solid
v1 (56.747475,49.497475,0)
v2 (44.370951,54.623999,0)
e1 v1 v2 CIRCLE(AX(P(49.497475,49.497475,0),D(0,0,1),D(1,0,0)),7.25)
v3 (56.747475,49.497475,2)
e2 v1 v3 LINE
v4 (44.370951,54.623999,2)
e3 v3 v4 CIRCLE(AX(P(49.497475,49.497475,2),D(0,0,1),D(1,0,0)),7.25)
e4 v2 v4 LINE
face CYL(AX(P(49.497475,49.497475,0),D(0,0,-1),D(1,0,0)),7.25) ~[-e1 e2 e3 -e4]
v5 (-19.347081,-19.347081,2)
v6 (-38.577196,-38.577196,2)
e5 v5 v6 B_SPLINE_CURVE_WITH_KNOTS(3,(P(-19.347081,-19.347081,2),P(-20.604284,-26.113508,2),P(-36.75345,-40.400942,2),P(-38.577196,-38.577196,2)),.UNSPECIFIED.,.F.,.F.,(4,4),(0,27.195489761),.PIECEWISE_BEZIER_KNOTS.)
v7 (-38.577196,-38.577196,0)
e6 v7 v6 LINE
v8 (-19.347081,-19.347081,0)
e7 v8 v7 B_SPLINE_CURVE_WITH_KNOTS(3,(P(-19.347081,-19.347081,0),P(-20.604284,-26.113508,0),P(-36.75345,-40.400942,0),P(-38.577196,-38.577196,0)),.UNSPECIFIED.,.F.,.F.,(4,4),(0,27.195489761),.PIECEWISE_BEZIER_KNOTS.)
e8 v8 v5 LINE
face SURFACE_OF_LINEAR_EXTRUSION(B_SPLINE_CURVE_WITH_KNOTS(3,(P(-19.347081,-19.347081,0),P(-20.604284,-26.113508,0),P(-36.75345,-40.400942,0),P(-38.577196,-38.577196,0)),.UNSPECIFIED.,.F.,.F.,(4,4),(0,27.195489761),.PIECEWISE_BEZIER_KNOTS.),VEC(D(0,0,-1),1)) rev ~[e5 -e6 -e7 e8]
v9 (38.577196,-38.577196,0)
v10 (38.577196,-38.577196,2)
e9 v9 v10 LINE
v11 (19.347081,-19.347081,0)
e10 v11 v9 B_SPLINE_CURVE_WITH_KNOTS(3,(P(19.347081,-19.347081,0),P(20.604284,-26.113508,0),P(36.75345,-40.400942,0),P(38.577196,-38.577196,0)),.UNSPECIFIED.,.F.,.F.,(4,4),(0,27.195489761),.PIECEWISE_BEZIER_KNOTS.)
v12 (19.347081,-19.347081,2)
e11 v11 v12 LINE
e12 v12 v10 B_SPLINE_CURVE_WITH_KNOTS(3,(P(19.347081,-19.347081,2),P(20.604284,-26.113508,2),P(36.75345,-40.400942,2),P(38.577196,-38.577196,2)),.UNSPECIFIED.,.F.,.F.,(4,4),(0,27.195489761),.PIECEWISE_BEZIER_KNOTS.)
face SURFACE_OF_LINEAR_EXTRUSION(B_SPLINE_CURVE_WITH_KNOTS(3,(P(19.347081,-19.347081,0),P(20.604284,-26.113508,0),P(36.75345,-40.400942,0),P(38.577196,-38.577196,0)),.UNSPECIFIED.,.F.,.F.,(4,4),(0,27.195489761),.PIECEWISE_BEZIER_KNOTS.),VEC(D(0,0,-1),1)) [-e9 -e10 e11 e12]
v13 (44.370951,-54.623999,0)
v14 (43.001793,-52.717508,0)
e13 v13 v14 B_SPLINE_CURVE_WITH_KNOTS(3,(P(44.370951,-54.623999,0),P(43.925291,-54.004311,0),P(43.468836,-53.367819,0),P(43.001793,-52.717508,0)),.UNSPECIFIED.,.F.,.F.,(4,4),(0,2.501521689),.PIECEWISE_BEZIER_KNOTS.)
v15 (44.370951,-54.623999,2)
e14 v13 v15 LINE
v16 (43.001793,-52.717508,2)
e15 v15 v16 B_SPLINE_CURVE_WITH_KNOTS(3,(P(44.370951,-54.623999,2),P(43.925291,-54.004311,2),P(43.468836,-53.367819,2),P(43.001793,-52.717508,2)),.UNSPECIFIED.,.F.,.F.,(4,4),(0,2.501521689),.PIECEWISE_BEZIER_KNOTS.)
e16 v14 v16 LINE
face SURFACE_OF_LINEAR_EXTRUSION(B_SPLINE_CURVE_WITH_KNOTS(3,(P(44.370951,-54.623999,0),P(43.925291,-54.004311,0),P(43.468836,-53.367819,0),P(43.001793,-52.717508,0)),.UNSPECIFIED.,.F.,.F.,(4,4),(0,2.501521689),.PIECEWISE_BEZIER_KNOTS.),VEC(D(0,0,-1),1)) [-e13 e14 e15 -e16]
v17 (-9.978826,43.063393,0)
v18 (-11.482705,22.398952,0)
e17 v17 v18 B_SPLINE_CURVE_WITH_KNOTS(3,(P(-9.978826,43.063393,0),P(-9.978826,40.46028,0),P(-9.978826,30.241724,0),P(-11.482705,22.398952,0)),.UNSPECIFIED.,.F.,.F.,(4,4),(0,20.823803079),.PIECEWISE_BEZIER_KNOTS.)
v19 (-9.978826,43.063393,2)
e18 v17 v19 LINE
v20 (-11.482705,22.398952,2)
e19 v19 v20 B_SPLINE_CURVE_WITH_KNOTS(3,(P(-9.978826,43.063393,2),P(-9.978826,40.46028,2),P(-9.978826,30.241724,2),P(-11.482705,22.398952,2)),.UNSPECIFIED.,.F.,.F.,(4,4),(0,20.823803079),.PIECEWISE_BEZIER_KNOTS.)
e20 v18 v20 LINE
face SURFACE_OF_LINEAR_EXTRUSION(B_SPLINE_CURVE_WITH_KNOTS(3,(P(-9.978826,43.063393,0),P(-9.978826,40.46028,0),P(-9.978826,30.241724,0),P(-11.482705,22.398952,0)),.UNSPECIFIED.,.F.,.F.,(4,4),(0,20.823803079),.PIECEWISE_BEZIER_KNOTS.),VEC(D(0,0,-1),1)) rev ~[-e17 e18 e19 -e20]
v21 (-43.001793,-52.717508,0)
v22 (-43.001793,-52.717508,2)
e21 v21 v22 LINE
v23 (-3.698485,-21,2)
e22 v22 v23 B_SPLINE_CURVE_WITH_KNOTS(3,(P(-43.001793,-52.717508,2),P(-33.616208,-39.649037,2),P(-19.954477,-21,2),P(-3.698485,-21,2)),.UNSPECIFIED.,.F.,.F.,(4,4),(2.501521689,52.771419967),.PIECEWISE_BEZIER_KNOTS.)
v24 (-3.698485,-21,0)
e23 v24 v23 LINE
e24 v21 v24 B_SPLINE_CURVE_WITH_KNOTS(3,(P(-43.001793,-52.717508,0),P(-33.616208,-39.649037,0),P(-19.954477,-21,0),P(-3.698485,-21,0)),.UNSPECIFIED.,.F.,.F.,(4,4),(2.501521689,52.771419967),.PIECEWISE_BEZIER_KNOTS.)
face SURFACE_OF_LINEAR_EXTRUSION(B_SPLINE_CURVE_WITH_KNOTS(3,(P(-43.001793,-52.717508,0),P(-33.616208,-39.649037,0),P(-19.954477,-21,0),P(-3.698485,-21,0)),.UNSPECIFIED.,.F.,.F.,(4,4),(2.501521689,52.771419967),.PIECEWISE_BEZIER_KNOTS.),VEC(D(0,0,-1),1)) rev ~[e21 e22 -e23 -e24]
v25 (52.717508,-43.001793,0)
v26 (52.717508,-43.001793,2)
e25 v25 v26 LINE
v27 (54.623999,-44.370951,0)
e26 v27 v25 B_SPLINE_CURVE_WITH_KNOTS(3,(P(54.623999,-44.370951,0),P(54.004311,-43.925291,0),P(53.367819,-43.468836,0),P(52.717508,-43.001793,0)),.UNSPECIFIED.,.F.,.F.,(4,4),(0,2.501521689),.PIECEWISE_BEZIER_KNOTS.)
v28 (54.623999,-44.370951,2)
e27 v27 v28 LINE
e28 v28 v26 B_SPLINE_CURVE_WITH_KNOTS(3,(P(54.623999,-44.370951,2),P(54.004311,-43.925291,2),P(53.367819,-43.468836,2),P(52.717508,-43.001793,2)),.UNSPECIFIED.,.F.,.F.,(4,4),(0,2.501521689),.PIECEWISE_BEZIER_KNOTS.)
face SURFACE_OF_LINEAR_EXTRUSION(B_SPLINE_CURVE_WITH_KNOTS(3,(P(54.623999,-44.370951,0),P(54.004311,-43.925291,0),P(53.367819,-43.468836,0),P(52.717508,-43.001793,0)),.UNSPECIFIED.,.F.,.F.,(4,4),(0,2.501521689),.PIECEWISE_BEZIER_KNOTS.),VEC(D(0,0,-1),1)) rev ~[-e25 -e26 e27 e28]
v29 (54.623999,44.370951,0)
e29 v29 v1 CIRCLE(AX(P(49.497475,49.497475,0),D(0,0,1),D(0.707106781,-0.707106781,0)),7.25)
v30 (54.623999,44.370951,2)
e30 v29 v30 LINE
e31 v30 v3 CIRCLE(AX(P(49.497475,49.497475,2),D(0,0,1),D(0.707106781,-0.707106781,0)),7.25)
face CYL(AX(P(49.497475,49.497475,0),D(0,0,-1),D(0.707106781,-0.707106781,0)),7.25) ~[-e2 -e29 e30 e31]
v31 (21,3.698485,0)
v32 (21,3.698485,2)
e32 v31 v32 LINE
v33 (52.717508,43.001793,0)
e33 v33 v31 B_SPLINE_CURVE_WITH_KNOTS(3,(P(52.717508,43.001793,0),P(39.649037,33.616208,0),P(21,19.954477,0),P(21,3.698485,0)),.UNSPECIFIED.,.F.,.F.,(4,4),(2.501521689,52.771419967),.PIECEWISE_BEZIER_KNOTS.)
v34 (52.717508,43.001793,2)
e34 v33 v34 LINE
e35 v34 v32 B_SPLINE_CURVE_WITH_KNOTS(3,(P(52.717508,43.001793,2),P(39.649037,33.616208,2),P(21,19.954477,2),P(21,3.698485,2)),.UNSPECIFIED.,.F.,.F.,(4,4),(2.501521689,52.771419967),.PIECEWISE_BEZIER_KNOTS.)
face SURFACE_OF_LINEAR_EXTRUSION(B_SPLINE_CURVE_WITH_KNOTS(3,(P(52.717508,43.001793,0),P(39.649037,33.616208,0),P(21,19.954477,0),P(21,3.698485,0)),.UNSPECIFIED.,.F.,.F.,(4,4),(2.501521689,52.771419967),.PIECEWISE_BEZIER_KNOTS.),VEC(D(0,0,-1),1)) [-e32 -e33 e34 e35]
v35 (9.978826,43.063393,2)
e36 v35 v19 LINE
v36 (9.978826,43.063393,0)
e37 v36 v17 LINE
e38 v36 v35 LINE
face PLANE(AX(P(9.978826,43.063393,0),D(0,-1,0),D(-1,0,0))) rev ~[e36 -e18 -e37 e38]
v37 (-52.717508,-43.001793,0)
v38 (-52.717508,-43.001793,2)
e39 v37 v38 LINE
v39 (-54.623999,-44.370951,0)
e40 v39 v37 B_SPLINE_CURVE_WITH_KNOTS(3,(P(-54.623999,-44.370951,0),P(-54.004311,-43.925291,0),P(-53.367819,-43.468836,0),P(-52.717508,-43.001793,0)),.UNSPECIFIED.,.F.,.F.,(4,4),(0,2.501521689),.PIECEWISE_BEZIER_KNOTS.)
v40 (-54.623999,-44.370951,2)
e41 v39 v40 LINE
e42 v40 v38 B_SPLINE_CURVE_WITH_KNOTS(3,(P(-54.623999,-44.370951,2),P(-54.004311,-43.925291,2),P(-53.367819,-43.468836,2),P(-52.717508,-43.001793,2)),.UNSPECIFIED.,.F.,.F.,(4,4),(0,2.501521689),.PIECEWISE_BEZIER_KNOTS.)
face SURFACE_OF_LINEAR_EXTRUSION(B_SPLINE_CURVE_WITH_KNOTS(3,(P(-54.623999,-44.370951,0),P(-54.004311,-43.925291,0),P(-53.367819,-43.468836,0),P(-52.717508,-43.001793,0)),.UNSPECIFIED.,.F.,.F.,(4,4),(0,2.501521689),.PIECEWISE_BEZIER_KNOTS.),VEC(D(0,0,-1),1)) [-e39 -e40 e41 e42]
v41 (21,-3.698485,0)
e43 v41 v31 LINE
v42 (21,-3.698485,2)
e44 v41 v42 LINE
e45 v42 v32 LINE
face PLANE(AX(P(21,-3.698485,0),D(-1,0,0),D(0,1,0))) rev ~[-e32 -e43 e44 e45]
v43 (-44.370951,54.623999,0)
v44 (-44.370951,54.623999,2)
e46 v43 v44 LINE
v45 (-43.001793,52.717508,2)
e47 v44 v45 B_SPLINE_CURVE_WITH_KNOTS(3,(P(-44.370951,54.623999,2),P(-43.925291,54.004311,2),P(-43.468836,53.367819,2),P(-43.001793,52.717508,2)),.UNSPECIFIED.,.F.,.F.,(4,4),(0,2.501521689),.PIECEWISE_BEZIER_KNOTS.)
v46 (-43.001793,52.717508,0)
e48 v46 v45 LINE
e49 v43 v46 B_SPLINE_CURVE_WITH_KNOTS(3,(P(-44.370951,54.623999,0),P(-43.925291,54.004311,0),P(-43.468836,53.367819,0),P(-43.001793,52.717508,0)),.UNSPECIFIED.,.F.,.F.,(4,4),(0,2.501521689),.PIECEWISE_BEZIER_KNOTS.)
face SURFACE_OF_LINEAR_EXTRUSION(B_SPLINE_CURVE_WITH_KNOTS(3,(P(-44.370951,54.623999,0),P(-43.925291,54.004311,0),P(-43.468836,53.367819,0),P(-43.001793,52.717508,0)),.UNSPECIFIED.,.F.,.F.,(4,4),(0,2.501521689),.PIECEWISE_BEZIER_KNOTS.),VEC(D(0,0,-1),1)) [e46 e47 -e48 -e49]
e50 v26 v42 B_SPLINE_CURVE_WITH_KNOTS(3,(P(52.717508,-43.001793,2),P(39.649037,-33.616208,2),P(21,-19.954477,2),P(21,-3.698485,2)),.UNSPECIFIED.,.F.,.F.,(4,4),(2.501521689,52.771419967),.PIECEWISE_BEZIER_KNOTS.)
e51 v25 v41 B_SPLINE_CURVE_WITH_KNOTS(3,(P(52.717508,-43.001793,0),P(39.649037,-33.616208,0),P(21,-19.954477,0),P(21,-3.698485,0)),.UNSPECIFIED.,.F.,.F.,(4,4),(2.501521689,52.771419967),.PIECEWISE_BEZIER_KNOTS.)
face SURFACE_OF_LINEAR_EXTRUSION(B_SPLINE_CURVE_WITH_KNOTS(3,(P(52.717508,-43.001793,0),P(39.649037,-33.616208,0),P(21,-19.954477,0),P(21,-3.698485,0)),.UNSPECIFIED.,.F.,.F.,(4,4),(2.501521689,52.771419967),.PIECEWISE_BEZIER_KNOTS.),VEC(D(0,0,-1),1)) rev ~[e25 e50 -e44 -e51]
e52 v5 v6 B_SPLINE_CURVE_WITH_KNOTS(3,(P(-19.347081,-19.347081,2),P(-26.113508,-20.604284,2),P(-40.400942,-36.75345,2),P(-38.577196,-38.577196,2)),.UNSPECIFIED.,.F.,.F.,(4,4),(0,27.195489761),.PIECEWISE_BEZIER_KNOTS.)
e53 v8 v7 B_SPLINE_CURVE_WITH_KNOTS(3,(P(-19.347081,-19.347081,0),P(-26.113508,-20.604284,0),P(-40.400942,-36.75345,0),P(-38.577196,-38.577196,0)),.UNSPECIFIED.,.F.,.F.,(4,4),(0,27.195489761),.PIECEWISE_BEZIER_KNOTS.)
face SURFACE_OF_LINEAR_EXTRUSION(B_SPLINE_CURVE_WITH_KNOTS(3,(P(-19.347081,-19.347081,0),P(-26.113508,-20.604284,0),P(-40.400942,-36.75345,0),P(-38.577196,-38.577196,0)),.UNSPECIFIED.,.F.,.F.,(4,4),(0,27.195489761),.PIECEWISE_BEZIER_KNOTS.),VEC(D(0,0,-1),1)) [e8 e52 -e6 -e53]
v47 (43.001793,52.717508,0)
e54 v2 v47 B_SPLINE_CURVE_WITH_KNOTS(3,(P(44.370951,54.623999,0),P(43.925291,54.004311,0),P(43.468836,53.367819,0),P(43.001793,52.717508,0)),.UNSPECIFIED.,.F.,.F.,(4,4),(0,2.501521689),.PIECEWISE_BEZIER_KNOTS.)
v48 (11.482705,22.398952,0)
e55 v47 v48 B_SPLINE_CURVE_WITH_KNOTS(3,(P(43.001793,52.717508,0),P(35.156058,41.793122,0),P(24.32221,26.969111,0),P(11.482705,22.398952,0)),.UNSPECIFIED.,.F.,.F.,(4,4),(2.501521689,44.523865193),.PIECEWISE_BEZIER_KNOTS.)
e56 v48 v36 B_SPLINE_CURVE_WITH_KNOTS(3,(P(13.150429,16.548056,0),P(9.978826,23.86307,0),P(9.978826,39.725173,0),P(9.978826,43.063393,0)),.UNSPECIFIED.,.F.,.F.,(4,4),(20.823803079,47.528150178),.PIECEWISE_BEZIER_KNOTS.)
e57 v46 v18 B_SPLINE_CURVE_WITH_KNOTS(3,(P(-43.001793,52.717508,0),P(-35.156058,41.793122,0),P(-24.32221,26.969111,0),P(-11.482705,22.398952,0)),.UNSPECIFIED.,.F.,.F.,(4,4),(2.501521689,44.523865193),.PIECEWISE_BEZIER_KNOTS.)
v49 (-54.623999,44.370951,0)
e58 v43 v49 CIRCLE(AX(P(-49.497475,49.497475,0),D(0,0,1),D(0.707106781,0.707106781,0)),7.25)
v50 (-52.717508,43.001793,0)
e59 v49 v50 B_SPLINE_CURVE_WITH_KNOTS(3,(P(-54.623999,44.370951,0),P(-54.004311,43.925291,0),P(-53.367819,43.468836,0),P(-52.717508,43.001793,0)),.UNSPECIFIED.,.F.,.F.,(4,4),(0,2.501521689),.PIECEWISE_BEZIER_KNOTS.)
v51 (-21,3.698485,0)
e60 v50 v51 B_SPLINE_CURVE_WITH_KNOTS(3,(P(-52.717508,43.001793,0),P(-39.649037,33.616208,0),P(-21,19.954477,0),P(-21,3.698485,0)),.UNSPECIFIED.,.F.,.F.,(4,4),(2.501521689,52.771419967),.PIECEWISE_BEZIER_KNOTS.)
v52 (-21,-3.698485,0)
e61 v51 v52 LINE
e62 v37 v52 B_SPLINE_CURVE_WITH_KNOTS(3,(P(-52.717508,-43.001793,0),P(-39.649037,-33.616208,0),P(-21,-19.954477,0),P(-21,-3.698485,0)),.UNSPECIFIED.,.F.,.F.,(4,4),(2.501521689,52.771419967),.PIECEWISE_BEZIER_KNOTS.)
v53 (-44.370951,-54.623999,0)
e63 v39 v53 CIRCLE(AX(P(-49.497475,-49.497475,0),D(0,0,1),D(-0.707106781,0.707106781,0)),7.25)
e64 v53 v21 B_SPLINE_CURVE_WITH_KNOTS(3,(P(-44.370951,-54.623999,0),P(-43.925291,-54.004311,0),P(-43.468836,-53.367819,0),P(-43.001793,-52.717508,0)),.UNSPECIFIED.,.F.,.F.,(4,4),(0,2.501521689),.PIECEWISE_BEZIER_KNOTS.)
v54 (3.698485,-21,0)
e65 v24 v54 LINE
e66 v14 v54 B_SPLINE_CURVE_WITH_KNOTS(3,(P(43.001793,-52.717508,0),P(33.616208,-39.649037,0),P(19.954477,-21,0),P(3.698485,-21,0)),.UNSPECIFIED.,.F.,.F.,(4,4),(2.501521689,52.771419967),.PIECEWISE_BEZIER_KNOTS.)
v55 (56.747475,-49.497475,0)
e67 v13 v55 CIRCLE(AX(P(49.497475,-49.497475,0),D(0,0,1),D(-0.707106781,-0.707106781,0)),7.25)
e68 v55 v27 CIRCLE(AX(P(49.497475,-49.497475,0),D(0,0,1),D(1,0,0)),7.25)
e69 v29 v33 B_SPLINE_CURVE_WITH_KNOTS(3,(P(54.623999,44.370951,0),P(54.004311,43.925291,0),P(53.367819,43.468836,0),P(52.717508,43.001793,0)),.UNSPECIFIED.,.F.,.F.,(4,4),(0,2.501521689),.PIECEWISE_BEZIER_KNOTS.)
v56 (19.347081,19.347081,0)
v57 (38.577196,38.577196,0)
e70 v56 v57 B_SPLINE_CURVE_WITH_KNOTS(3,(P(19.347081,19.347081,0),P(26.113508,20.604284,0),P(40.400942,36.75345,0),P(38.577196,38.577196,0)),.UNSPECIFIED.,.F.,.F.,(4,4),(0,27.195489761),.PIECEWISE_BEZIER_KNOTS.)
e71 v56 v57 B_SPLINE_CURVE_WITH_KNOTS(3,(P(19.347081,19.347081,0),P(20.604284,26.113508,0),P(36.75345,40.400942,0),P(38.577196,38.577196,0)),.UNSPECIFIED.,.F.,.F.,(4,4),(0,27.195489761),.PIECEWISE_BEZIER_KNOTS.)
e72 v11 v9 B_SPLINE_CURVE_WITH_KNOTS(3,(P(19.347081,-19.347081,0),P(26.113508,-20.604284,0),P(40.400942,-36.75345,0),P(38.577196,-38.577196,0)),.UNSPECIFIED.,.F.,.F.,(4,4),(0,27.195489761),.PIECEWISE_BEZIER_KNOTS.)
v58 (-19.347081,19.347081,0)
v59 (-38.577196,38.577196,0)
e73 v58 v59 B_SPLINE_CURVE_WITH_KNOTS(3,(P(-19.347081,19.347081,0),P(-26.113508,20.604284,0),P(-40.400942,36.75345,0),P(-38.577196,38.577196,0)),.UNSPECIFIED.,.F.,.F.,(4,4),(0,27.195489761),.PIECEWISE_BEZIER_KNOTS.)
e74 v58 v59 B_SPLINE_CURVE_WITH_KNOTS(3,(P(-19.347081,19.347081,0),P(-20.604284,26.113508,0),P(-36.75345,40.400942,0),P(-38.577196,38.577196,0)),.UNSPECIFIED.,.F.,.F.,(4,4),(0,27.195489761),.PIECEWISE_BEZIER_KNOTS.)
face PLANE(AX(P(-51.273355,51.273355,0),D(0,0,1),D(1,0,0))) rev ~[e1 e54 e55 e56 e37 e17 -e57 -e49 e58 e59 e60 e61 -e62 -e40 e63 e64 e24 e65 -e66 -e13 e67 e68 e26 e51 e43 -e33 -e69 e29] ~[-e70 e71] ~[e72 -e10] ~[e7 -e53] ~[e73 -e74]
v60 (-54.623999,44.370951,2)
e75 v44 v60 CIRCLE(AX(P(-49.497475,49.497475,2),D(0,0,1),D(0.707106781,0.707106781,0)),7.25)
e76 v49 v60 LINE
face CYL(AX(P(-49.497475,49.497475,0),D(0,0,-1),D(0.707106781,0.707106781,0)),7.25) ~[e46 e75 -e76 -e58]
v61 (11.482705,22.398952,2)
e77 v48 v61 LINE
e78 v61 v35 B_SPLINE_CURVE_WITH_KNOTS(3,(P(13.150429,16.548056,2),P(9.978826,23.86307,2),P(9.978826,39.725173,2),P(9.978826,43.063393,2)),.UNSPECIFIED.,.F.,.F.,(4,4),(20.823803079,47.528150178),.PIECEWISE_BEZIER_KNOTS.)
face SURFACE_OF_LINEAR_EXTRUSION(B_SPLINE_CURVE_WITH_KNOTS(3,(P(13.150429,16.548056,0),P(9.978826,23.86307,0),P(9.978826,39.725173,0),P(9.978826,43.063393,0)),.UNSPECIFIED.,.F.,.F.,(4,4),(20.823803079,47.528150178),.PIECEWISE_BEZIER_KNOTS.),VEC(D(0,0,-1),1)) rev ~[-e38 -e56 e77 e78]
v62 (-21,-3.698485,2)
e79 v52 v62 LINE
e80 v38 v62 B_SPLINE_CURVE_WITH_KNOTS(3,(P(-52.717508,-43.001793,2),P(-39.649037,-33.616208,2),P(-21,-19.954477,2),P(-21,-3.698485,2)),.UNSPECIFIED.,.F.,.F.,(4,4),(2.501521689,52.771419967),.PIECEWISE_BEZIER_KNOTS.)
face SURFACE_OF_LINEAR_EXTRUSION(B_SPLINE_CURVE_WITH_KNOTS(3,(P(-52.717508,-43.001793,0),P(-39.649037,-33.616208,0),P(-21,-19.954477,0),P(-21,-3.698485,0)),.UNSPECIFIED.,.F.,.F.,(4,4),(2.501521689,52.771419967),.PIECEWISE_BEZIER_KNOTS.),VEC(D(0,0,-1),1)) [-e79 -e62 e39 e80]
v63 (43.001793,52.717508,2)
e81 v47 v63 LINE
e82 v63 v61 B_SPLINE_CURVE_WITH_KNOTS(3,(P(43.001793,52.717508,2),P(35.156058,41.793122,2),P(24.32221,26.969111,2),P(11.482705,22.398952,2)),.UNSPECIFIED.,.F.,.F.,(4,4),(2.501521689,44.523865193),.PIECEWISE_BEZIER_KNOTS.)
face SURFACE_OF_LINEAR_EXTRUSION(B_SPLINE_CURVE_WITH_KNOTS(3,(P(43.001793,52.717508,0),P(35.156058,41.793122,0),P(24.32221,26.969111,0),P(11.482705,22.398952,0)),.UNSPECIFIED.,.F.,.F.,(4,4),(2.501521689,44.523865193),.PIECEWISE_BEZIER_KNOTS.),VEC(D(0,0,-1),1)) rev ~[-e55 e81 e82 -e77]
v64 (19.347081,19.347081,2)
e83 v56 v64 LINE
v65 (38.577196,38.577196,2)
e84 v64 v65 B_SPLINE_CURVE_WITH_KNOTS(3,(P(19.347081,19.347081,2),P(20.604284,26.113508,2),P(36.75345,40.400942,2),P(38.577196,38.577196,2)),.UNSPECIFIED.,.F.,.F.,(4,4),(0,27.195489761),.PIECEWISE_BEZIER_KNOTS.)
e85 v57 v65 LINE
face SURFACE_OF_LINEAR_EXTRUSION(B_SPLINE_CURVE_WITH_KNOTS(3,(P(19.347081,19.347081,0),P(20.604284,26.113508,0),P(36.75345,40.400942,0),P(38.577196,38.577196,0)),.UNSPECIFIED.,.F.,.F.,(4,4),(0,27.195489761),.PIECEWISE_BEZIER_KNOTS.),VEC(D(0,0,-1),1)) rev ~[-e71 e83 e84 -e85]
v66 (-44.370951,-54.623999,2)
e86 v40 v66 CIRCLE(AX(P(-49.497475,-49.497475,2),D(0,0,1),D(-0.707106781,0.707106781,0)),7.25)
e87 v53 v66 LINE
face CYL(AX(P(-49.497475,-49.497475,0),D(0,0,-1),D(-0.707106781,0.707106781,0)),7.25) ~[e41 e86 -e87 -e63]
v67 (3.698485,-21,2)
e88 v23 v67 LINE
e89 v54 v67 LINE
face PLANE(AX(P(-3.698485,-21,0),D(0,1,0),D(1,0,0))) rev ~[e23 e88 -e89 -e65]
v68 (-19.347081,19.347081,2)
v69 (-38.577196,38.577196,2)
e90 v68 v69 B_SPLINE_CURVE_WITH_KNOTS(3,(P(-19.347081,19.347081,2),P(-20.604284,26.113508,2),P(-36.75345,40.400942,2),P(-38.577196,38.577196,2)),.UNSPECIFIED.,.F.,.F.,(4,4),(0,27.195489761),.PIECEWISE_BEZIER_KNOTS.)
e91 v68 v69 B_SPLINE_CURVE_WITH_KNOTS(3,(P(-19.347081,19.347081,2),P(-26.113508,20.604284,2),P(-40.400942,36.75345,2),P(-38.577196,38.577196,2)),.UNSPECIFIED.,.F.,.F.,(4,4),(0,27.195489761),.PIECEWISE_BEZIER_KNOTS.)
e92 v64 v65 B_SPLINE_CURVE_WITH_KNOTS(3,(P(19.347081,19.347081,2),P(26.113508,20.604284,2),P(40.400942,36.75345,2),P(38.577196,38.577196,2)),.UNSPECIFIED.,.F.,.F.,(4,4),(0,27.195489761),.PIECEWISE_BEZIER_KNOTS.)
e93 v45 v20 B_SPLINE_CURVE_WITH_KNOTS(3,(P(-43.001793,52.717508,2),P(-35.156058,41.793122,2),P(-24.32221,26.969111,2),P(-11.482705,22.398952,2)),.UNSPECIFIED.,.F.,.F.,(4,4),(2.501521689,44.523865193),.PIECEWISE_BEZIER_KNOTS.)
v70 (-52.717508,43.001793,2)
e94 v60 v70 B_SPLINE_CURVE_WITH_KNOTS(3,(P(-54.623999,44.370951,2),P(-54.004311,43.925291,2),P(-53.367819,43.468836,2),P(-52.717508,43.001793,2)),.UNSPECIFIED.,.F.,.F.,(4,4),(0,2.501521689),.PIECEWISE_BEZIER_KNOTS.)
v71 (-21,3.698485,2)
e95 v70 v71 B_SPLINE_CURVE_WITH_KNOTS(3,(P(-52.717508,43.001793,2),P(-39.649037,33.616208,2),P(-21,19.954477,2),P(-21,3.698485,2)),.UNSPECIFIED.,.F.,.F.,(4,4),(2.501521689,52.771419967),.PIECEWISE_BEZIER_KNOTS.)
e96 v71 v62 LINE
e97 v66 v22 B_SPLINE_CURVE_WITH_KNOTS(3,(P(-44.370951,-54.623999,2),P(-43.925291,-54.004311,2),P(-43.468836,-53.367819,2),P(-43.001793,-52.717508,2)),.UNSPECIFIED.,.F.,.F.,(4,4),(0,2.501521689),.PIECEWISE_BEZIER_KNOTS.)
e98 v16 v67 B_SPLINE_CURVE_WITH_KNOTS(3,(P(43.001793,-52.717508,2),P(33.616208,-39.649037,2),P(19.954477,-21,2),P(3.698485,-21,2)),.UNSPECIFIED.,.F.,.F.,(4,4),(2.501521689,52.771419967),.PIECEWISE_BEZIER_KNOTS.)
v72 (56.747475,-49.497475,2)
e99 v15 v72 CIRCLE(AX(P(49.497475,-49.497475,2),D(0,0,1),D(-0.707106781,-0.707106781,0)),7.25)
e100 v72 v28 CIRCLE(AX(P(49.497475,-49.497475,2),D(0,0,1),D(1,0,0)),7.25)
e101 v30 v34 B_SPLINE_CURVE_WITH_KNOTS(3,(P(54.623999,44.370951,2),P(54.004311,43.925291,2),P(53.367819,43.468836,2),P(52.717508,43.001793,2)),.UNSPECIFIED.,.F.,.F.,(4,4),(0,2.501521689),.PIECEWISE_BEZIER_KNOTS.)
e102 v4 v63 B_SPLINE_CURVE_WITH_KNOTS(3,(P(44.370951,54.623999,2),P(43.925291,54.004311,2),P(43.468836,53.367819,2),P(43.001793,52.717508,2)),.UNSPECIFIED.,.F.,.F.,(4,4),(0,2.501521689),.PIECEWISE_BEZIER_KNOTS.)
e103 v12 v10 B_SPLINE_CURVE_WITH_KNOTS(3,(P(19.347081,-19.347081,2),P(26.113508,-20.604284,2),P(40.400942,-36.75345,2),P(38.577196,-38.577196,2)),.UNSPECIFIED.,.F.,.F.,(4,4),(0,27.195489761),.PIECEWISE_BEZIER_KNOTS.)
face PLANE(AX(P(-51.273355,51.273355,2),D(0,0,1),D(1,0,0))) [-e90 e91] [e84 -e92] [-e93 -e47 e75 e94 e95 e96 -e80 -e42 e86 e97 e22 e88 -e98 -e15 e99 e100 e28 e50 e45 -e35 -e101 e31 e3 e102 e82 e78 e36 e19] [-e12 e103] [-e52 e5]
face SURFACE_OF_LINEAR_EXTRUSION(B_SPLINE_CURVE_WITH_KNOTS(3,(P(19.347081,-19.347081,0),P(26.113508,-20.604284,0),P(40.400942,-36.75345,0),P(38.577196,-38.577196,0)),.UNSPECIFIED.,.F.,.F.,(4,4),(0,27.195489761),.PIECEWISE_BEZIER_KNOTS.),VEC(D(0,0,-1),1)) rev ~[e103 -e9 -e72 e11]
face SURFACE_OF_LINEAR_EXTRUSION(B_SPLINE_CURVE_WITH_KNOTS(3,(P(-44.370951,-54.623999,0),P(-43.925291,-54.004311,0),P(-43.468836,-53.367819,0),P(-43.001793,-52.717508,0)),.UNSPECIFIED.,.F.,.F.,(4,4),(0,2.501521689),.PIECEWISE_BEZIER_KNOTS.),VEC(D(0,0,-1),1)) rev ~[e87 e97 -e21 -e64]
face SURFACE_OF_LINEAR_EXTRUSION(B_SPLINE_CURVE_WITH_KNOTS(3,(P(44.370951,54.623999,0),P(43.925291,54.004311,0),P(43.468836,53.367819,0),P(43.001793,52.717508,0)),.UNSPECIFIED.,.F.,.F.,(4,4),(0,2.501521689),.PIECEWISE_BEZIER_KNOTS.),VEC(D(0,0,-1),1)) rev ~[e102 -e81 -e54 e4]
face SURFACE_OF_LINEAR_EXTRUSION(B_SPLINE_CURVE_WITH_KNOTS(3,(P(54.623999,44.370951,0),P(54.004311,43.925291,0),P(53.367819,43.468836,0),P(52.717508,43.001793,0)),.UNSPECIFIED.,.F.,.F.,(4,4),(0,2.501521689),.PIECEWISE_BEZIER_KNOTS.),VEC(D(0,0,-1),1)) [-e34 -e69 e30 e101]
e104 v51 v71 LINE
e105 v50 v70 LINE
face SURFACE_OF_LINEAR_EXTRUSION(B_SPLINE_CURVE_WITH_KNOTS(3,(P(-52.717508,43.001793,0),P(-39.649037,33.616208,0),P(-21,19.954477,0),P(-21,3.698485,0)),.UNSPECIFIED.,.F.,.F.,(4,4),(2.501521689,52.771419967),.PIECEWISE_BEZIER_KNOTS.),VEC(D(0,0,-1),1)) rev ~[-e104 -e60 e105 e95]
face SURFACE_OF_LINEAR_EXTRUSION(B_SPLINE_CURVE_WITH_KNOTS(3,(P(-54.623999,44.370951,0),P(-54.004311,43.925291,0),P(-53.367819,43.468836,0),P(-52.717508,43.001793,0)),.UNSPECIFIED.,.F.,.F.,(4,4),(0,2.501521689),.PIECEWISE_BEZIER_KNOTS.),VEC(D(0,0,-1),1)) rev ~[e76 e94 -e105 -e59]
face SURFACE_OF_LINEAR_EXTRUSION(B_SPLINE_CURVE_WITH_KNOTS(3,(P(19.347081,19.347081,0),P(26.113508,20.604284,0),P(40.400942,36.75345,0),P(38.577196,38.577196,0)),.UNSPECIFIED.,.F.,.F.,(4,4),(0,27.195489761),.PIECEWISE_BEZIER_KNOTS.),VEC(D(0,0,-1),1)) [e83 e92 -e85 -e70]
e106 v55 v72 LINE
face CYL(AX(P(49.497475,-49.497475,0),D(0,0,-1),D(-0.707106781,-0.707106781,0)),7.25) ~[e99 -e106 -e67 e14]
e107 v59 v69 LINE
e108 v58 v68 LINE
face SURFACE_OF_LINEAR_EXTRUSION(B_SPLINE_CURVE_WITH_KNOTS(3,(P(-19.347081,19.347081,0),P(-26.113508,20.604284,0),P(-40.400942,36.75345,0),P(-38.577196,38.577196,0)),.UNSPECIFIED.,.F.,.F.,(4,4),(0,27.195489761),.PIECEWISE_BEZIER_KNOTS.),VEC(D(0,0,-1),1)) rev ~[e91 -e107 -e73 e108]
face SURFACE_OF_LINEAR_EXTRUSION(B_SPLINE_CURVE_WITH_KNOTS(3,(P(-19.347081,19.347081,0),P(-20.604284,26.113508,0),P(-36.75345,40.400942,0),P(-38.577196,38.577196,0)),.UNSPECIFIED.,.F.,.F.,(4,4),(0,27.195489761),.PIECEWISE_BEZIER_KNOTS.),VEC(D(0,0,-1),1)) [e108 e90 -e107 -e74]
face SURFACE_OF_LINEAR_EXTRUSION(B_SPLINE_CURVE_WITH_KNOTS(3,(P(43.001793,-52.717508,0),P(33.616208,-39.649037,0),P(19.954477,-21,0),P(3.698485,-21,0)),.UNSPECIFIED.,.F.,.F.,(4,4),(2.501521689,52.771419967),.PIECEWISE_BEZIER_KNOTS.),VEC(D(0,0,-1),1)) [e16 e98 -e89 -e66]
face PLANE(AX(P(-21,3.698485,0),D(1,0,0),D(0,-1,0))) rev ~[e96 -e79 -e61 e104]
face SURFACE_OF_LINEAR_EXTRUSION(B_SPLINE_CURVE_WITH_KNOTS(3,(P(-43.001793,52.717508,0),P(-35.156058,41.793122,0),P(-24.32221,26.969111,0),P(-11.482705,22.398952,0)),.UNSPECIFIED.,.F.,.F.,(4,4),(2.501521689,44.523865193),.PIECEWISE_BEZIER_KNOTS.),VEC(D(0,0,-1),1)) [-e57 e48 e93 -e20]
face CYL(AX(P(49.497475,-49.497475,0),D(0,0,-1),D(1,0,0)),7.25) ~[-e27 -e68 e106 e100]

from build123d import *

# Parameters (mm, degrees)
F1_DEPTH = 2


with BuildPart() as f1:
    # F0 (on Top) → F1 (new body)
    with BuildSketch(Plane.XY):
        with BuildLine():
            Line((-54.6239988467, 44.3709505195), (-44.3709505195, 54.6239988467))
            ThreePointArc((-44.3709505195, 54.6239988467), (-54.6239988467, 54.6239988467), (-54.6239988467, 44.3709505195))
        make_face()
        with BuildLine():
            add(Edge.make_bspline(
                [(-44.3709505195, 54.6239988467), (-43.9252914894, 54.0043111509), (-43.4688364543, 53.3678190196), (-43.0017926599, 52.7175080764)],
                knots=[0, 0, 0, 0, 2.5015216892, 2.5015216892, 2.5015216892, 2.5015216892], degree=3))
            Line((-44.3709505195, 54.6239988467), (-54.6239988467, 44.3709505195))
            add(Edge.make_bspline(
                [(-54.6239988467, 44.3709505195), (-54.0043111509, 43.9252914894), (-53.3678190196, 43.4688364543), (-52.7175080764, 43.0017926599)],
                knots=[0, 0, 0, 0, 2.5015216892, 2.5015216892, 2.5015216892, 2.5015216892], degree=3))
            ThreePointArc((-52.7175080764, 43.0017926599), (-45.6753510653, 43.3368033681), (-42.2474746831, 49.4974746831))
            ThreePointArc((-42.2474746831, 49.4974746831), (-42.438572691, 51.1510776179), (-43.0017926599, 52.7175080764))
        make_face()
        with BuildLine():
            add(Edge.make_bspline(
                [(-43.0017926599, 52.7175080764), (-35.156058263, 41.793121548), (-24.322210487, 26.9691113568), (-11.4827054753, 22.3989517485)],
                knots=[2.5015216892, 2.5015216892, 2.5015216892, 2.5015216892, 44.5238651926, 44.5238651926, 44.5238651926, 44.5238651926], degree=3))
            ThreePointArc((-43.0017926599, 52.7175080764), (-42.438572691, 51.1510776179), (-42.2474746831, 49.4974746831))
            ThreePointArc((-42.2474746831, 49.4974746831), (-45.6753510653, 43.3368033681), (-52.7175080764, 43.0017926599))
            add(Edge.make_bspline(
                [(-52.7175080764, 43.0017926599), (-39.6490365505, 33.6162078218), (-21, 19.9544767567), (-21, 3.6984848098)],
                knots=[2.5015216892, 2.5015216892, 2.5015216892, 2.5015216892, 52.7714199671, 52.7714199671, 52.7714199671, 52.7714199671], degree=3))
            Line((-21, 3.6984848098), (-21, 8.6984848098))
            Line((-21, 8.6984848098), (-13.1504285381, 16.5480562717))
            add(Edge.make_bspline(
                [(-11.4827054763, 22.3989517466), (-11.9073939206, 20.1841898293), (-12.4520123835, 18.1588898334), (-13.1504285381, 16.5480562717)],
                knots=[20.823803079, 20.823803079, 20.823803079, 20.823803079, 26.7043470991, 26.7043470991, 26.7043470991, 26.7043470991], degree=3))
        make_face()
        with BuildLine():
            add(Edge.make_bspline(
                [(-19.3470806403, 19.3470806403), (-20.6042841596, 26.1135079486), (-36.7534501997, 40.4009415356), (-38.5771958677, 38.5771958677)],
                knots=[0, 0, 0, 0, 27.1954897606, 27.1954897606, 27.1954897606, 27.1954897606], degree=3))
            add(Edge.make_bspline(
                [(-19.3470806403, 19.3470806403), (-26.1135079486, 20.6042841596), (-40.4009415356, 36.7534501997), (-38.5771958677, 38.5771958677)],
                knots=[0, 0, 0, 0, 27.1954897606, 27.1954897606, 27.1954897606, 27.1954897606], degree=3))
        make_face(mode=Mode.SUBTRACT)
        with BuildLine():
            add(Edge.make_bspline(
                [(-9.9788261577, 43.0633931983), (-9.9788261577, 40.4602801443), (-9.9788261577, 30.2417237545), (-11.4827054763, 22.3989517466)],
                knots=[0, 0, 0, 0, 20.823803079, 20.823803079, 20.823803079, 20.823803079], degree=3))
            add(Edge.make_bspline(
                [(-11.4827054753, 22.3989517485), (-8.9627479471, 21.5019850743), (-6.3655318616, 21), (-3.6984848098, 21)],
                knots=[44.5238651926, 44.5238651926, 44.5238651926, 44.5238651926, 52.7714199671, 52.7714199671, 52.7714199671, 52.7714199671], degree=3))
            Line((-3.6984848098, 21), (3.6984848098, 21))
            add(Edge.make_bspline(
                [(11.4827054753, 22.3989517485), (8.9627479471, 21.5019850743), (6.3655318616, 21), (3.6984848098, 21)],
                knots=[44.5238651926, 44.5238651926, 44.5238651926, 44.5238651926, 52.7714199671, 52.7714199671, 52.7714199671, 52.7714199671], degree=3))
            add(Edge.make_bspline(
                [(9.9788261577, 43.0633931983), (9.9788261577, 40.4602801443), (9.9788261577, 30.2417237545), (11.4827054763, 22.3989517466)],
                knots=[0, 0, 0, 0, 20.823803079, 20.823803079, 20.823803079, 20.823803079], degree=3))
            Line((9.9788261577, 43.0633931983), (-9.9788261577, 43.0633931983))
        make_face()
        with BuildLine():
            add(Edge.make_bspline(
                [(-11.4827054753, 22.3989517485), (-8.9627479471, 21.5019850743), (-6.3655318616, 21), (-3.6984848098, 21)],
                knots=[44.5238651926, 44.5238651926, 44.5238651926, 44.5238651926, 52.7714199671, 52.7714199671, 52.7714199671, 52.7714199671], degree=3))
            add(Edge.make_bspline(
                [(-11.4827054763, 22.3989517466), (-11.9073939206, 20.1841898293), (-12.4520123835, 18.1588898334), (-13.1504285381, 16.5480562717)],
                knots=[20.823803079, 20.823803079, 20.823803079, 20.823803079, 26.7043470991, 26.7043470991, 26.7043470991, 26.7043470991], degree=3))
            Line((-13.1504285381, 16.5480562717), (-8.6984848098, 21))
            Line((-8.6984848098, 21), (-3.6984848098, 21))
        make_face()
        Polygon((-21, 8.6984848098), (-21, 3.6984848098), (-21, -3.6984848098), (-21, -8.6984848098), (-8.6984848098, -21), (-3.6984848098, -21), (3.6984848098, -21), (8.6984848098, -21), (21, -8.6984848098), (21, -3.6984848098), (21, 3.6984848098), (21, 8.6984848098), (13.1504285381, 16.5480562717), (8.6984848098, 21), (3.6984848098, 21), (-3.6984848098, 21), (-8.6984848098, 21), (-13.1504285381, 16.5480562717), align=None)
        with BuildLine():
            add(Edge.make_bspline(
                [(11.4827054753, 22.3989517485), (8.9627479471, 21.5019850743), (6.3655318616, 21), (3.6984848098, 21)],
                knots=[44.5238651926, 44.5238651926, 44.5238651926, 44.5238651926, 52.7714199671, 52.7714199671, 52.7714199671, 52.7714199671], degree=3))
            Line((3.6984848098, 21), (8.6984848098, 21))
            Line((8.6984848098, 21), (13.1504285381, 16.5480562717))
            add(Edge.make_bspline(
                [(11.4827054763, 22.3989517466), (11.9073939206, 20.1841898293), (12.4520123835, 18.1588898334), (13.1504285381, 16.5480562717)],
                knots=[20.823803079, 20.823803079, 20.823803079, 20.823803079, 26.7043470991, 26.7043470991, 26.7043470991, 26.7043470991], degree=3))
        make_face()
        with BuildLine():
            add(Edge.make_bspline(
                [(43.0017926599, 52.7175080764), (35.156058263, 41.793121548), (24.322210487, 26.9691113568), (11.4827054753, 22.3989517485)],
                knots=[2.5015216892, 2.5015216892, 2.5015216892, 2.5015216892, 44.5238651926, 44.5238651926, 44.5238651926, 44.5238651926], degree=3))
            add(Edge.make_bspline(
                [(11.4827054763, 22.3989517466), (11.9073939206, 20.1841898293), (12.4520123835, 18.1588898334), (13.1504285381, 16.5480562717)],
                knots=[20.823803079, 20.823803079, 20.823803079, 20.823803079, 26.7043470991, 26.7043470991, 26.7043470991, 26.7043470991], degree=3))
            Line((13.1504285381, 16.5480562717), (21, 8.6984848098))
            Line((21, 8.6984848098), (21, 3.6984848098))
            add(Edge.make_bspline(
                [(52.7175080764, 43.0017926599), (39.6490365505, 33.6162078218), (21, 19.9544767567), (21, 3.6984848098)],
                knots=[2.5015216892, 2.5015216892, 2.5015216892, 2.5015216892, 52.7714199671, 52.7714199671, 52.7714199671, 52.7714199671], degree=3))
            ThreePointArc((52.7175080764, 43.0017926599), (44.3709505195, 44.3709505195), (43.0017926599, 52.7175080764))
        make_face()
        with BuildLine():
            add(Edge.make_bspline(
                [(19.3470806403, 19.3470806403), (26.1135079486, 20.6042841596), (40.4009415356, 36.7534501997), (38.5771958677, 38.5771958677)],
                knots=[0, 0, 0, 0, 27.1954897606, 27.1954897606, 27.1954897606, 27.1954897606], degree=3))
            add(Edge.make_bspline(
                [(19.3470806403, 19.3470806403), (20.6042841596, 26.1135079486), (36.7534501997, 40.4009415356), (38.5771958677, 38.5771958677)],
                knots=[0, 0, 0, 0, 27.1954897606, 27.1954897606, 27.1954897606, 27.1954897606], degree=3))
        make_face(mode=Mode.SUBTRACT)
        with BuildLine():
            add(Edge.make_bspline(
                [(44.3709505195, 54.6239988467), (43.9252914894, 54.0043111509), (43.4688364543, 53.3678190196), (43.0017926599, 52.7175080764)],
                knots=[0, 0, 0, 0, 2.5015216892, 2.5015216892, 2.5015216892, 2.5015216892], degree=3))
            ThreePointArc((43.0017926599, 52.7175080764), (44.3709505195, 44.3709505195), (52.7175080764, 43.0017926599))
            add(Edge.make_bspline(
                [(54.6239988467, 44.3709505195), (54.0043111509, 43.9252914894), (53.3678190196, 43.4688364543), (52.7175080764, 43.0017926599)],
                knots=[0, 0, 0, 0, 2.5015216892, 2.5015216892, 2.5015216892, 2.5015216892], degree=3))
            ThreePointArc((54.6239988467, 44.3709505195), (56.1956012938, 46.7230197984), (56.7474746831, 49.4974746831))
            ThreePointArc((56.7474746831, 49.4974746831), (52.2719295677, 56.1956012938), (44.3709505195, 54.6239988467))
        make_face()
        with BuildLine():
            Line((8.6984848098, -21), (3.6984848098, -21))
            add(Edge.make_bspline(
                [(43.0017926599, -52.7175080764), (33.6162078218, -39.6490365505), (19.9544767567, -21), (3.6984848098, -21)],
                knots=[2.5015216892, 2.5015216892, 2.5015216892, 2.5015216892, 52.7714199671, 52.7714199671, 52.7714199671, 52.7714199671], degree=3))
            ThreePointArc((43.0017926599, -52.7175080764), (44.3709505195, -44.3709505195), (52.7175080764, -43.0017926599))
            add(Edge.make_bspline(
                [(52.7175080764, -43.0017926599), (39.6490365505, -33.6162078218), (21, -19.9544767567), (21, -3.6984848098)],
                knots=[2.5015216892, 2.5015216892, 2.5015216892, 2.5015216892, 52.7714199671, 52.7714199671, 52.7714199671, 52.7714199671], degree=3))
            Line((21, -3.6984848098), (21, -8.6984848098))
            Line((21, -8.6984848098), (8.6984848098, -21))
        make_face()
        with BuildLine():
            add(Edge.make_bspline(
                [(19.3470806403, -19.3470806403), (20.6042841596, -26.1135079486), (36.7534501997, -40.4009415356), (38.5771958677, -38.5771958677)],
                knots=[0, 0, 0, 0, 27.1954897606, 27.1954897606, 27.1954897606, 27.1954897606], degree=3))
            add(Edge.make_bspline(
                [(19.3470806403, -19.3470806403), (26.1135079486, -20.6042841596), (40.4009415356, -36.7534501997), (38.5771958677, -38.5771958677)],
                knots=[0, 0, 0, 0, 27.1954897606, 27.1954897606, 27.1954897606, 27.1954897606], degree=3))
        make_face(mode=Mode.SUBTRACT)
        with BuildLine():
            Line((-21, -8.6984848098), (-21, -3.6984848098))
            add(Edge.make_bspline(
                [(-52.7175080764, -43.0017926599), (-39.6490365505, -33.6162078218), (-21, -19.9544767567), (-21, -3.6984848098)],
                knots=[2.5015216892, 2.5015216892, 2.5015216892, 2.5015216892, 52.7714199671, 52.7714199671, 52.7714199671, 52.7714199671], degree=3))
            ThreePointArc((-52.7175080764, -43.0017926599), (-45.6753510653, -43.3368033681), (-42.2474746831, -49.4974746831))
            ThreePointArc((-42.2474746831, -49.4974746831), (-42.438572691, -51.1510776179), (-43.0017926599, -52.7175080764))
            add(Edge.make_bspline(
                [(-43.0017926599, -52.7175080764), (-33.6162078218, -39.6490365505), (-19.9544767567, -21), (-3.6984848098, -21)],
                knots=[2.5015216892, 2.5015216892, 2.5015216892, 2.5015216892, 52.7714199671, 52.7714199671, 52.7714199671, 52.7714199671], degree=3))
            Line((-3.6984848098, -21), (-8.6984848098, -21))
            Line((-8.6984848098, -21), (-21, -8.6984848098))
        make_face()
        with BuildLine():
            add(Edge.make_bspline(
                [(-19.3470806403, -19.3470806403), (-26.1135079486, -20.6042841596), (-40.4009415356, -36.7534501997), (-38.5771958677, -38.5771958677)],
                knots=[0, 0, 0, 0, 27.1954897606, 27.1954897606, 27.1954897606, 27.1954897606], degree=3))
            add(Edge.make_bspline(
                [(-19.3470806403, -19.3470806403), (-20.6042841596, -26.1135079486), (-36.7534501997, -40.4009415356), (-38.5771958677, -38.5771958677)],
                knots=[0, 0, 0, 0, 27.1954897606, 27.1954897606, 27.1954897606, 27.1954897606], degree=3))
        make_face(mode=Mode.SUBTRACT)
        with BuildLine():
            ThreePointArc((-42.2474746831, -49.4974746831), (-45.6753510653, -43.3368033681), (-52.7175080764, -43.0017926599))
            add(Edge.make_bspline(
                [(-54.6239988467, -44.3709505195), (-54.0043111509, -43.9252914894), (-53.3678190196, -43.4688364543), (-52.7175080764, -43.0017926599)],
                knots=[0, 0, 0, 0, 2.5015216892, 2.5015216892, 2.5015216892, 2.5015216892], degree=3))
            ThreePointArc((-54.6239988467, -44.3709505195), (-54.6239988467, -54.6239988467), (-44.3709505195, -54.6239988467))
            add(Edge.make_bspline(
                [(-44.3709505195, -54.6239988467), (-43.9252914894, -54.0043111509), (-43.4688364543, -53.3678190196), (-43.0017926599, -52.7175080764)],
                knots=[0, 0, 0, 0, 2.5015216892, 2.5015216892, 2.5015216892, 2.5015216892], degree=3))
            ThreePointArc((-43.0017926599, -52.7175080764), (-42.438572691, -51.1510776179), (-42.2474746831, -49.4974746831))
        make_face()
        with BuildLine():
            ThreePointArc((52.7175080764, -43.0017926599), (44.3709505195, -44.3709505195), (43.0017926599, -52.7175080764))
            add(Edge.make_bspline(
                [(44.3709505195, -54.6239988467), (43.9252914894, -54.0043111509), (43.4688364543, -53.3678190196), (43.0017926599, -52.7175080764)],
                knots=[0, 0, 0, 0, 2.5015216892, 2.5015216892, 2.5015216892, 2.5015216892], degree=3))
            ThreePointArc((44.3709505195, -54.6239988467), (52.2719295677, -56.1956012938), (56.7474746831, -49.4974746831))
            ThreePointArc((56.7474746831, -49.4974746831), (56.1956012938, -46.7230197984), (54.6239988467, -44.3709505195))
            add(Edge.make_bspline(
                [(54.6239988467, -44.3709505195), (54.0043111509, -43.9252914894), (53.3678190196, -43.4688364543), (52.7175080764, -43.0017926599)],
                knots=[0, 0, 0, 0, 2.5015216892, 2.5015216892, 2.5015216892, 2.5015216892], degree=3))
        make_face()
    extrude(amount=F1_DEPTH)


solid = f1.part
